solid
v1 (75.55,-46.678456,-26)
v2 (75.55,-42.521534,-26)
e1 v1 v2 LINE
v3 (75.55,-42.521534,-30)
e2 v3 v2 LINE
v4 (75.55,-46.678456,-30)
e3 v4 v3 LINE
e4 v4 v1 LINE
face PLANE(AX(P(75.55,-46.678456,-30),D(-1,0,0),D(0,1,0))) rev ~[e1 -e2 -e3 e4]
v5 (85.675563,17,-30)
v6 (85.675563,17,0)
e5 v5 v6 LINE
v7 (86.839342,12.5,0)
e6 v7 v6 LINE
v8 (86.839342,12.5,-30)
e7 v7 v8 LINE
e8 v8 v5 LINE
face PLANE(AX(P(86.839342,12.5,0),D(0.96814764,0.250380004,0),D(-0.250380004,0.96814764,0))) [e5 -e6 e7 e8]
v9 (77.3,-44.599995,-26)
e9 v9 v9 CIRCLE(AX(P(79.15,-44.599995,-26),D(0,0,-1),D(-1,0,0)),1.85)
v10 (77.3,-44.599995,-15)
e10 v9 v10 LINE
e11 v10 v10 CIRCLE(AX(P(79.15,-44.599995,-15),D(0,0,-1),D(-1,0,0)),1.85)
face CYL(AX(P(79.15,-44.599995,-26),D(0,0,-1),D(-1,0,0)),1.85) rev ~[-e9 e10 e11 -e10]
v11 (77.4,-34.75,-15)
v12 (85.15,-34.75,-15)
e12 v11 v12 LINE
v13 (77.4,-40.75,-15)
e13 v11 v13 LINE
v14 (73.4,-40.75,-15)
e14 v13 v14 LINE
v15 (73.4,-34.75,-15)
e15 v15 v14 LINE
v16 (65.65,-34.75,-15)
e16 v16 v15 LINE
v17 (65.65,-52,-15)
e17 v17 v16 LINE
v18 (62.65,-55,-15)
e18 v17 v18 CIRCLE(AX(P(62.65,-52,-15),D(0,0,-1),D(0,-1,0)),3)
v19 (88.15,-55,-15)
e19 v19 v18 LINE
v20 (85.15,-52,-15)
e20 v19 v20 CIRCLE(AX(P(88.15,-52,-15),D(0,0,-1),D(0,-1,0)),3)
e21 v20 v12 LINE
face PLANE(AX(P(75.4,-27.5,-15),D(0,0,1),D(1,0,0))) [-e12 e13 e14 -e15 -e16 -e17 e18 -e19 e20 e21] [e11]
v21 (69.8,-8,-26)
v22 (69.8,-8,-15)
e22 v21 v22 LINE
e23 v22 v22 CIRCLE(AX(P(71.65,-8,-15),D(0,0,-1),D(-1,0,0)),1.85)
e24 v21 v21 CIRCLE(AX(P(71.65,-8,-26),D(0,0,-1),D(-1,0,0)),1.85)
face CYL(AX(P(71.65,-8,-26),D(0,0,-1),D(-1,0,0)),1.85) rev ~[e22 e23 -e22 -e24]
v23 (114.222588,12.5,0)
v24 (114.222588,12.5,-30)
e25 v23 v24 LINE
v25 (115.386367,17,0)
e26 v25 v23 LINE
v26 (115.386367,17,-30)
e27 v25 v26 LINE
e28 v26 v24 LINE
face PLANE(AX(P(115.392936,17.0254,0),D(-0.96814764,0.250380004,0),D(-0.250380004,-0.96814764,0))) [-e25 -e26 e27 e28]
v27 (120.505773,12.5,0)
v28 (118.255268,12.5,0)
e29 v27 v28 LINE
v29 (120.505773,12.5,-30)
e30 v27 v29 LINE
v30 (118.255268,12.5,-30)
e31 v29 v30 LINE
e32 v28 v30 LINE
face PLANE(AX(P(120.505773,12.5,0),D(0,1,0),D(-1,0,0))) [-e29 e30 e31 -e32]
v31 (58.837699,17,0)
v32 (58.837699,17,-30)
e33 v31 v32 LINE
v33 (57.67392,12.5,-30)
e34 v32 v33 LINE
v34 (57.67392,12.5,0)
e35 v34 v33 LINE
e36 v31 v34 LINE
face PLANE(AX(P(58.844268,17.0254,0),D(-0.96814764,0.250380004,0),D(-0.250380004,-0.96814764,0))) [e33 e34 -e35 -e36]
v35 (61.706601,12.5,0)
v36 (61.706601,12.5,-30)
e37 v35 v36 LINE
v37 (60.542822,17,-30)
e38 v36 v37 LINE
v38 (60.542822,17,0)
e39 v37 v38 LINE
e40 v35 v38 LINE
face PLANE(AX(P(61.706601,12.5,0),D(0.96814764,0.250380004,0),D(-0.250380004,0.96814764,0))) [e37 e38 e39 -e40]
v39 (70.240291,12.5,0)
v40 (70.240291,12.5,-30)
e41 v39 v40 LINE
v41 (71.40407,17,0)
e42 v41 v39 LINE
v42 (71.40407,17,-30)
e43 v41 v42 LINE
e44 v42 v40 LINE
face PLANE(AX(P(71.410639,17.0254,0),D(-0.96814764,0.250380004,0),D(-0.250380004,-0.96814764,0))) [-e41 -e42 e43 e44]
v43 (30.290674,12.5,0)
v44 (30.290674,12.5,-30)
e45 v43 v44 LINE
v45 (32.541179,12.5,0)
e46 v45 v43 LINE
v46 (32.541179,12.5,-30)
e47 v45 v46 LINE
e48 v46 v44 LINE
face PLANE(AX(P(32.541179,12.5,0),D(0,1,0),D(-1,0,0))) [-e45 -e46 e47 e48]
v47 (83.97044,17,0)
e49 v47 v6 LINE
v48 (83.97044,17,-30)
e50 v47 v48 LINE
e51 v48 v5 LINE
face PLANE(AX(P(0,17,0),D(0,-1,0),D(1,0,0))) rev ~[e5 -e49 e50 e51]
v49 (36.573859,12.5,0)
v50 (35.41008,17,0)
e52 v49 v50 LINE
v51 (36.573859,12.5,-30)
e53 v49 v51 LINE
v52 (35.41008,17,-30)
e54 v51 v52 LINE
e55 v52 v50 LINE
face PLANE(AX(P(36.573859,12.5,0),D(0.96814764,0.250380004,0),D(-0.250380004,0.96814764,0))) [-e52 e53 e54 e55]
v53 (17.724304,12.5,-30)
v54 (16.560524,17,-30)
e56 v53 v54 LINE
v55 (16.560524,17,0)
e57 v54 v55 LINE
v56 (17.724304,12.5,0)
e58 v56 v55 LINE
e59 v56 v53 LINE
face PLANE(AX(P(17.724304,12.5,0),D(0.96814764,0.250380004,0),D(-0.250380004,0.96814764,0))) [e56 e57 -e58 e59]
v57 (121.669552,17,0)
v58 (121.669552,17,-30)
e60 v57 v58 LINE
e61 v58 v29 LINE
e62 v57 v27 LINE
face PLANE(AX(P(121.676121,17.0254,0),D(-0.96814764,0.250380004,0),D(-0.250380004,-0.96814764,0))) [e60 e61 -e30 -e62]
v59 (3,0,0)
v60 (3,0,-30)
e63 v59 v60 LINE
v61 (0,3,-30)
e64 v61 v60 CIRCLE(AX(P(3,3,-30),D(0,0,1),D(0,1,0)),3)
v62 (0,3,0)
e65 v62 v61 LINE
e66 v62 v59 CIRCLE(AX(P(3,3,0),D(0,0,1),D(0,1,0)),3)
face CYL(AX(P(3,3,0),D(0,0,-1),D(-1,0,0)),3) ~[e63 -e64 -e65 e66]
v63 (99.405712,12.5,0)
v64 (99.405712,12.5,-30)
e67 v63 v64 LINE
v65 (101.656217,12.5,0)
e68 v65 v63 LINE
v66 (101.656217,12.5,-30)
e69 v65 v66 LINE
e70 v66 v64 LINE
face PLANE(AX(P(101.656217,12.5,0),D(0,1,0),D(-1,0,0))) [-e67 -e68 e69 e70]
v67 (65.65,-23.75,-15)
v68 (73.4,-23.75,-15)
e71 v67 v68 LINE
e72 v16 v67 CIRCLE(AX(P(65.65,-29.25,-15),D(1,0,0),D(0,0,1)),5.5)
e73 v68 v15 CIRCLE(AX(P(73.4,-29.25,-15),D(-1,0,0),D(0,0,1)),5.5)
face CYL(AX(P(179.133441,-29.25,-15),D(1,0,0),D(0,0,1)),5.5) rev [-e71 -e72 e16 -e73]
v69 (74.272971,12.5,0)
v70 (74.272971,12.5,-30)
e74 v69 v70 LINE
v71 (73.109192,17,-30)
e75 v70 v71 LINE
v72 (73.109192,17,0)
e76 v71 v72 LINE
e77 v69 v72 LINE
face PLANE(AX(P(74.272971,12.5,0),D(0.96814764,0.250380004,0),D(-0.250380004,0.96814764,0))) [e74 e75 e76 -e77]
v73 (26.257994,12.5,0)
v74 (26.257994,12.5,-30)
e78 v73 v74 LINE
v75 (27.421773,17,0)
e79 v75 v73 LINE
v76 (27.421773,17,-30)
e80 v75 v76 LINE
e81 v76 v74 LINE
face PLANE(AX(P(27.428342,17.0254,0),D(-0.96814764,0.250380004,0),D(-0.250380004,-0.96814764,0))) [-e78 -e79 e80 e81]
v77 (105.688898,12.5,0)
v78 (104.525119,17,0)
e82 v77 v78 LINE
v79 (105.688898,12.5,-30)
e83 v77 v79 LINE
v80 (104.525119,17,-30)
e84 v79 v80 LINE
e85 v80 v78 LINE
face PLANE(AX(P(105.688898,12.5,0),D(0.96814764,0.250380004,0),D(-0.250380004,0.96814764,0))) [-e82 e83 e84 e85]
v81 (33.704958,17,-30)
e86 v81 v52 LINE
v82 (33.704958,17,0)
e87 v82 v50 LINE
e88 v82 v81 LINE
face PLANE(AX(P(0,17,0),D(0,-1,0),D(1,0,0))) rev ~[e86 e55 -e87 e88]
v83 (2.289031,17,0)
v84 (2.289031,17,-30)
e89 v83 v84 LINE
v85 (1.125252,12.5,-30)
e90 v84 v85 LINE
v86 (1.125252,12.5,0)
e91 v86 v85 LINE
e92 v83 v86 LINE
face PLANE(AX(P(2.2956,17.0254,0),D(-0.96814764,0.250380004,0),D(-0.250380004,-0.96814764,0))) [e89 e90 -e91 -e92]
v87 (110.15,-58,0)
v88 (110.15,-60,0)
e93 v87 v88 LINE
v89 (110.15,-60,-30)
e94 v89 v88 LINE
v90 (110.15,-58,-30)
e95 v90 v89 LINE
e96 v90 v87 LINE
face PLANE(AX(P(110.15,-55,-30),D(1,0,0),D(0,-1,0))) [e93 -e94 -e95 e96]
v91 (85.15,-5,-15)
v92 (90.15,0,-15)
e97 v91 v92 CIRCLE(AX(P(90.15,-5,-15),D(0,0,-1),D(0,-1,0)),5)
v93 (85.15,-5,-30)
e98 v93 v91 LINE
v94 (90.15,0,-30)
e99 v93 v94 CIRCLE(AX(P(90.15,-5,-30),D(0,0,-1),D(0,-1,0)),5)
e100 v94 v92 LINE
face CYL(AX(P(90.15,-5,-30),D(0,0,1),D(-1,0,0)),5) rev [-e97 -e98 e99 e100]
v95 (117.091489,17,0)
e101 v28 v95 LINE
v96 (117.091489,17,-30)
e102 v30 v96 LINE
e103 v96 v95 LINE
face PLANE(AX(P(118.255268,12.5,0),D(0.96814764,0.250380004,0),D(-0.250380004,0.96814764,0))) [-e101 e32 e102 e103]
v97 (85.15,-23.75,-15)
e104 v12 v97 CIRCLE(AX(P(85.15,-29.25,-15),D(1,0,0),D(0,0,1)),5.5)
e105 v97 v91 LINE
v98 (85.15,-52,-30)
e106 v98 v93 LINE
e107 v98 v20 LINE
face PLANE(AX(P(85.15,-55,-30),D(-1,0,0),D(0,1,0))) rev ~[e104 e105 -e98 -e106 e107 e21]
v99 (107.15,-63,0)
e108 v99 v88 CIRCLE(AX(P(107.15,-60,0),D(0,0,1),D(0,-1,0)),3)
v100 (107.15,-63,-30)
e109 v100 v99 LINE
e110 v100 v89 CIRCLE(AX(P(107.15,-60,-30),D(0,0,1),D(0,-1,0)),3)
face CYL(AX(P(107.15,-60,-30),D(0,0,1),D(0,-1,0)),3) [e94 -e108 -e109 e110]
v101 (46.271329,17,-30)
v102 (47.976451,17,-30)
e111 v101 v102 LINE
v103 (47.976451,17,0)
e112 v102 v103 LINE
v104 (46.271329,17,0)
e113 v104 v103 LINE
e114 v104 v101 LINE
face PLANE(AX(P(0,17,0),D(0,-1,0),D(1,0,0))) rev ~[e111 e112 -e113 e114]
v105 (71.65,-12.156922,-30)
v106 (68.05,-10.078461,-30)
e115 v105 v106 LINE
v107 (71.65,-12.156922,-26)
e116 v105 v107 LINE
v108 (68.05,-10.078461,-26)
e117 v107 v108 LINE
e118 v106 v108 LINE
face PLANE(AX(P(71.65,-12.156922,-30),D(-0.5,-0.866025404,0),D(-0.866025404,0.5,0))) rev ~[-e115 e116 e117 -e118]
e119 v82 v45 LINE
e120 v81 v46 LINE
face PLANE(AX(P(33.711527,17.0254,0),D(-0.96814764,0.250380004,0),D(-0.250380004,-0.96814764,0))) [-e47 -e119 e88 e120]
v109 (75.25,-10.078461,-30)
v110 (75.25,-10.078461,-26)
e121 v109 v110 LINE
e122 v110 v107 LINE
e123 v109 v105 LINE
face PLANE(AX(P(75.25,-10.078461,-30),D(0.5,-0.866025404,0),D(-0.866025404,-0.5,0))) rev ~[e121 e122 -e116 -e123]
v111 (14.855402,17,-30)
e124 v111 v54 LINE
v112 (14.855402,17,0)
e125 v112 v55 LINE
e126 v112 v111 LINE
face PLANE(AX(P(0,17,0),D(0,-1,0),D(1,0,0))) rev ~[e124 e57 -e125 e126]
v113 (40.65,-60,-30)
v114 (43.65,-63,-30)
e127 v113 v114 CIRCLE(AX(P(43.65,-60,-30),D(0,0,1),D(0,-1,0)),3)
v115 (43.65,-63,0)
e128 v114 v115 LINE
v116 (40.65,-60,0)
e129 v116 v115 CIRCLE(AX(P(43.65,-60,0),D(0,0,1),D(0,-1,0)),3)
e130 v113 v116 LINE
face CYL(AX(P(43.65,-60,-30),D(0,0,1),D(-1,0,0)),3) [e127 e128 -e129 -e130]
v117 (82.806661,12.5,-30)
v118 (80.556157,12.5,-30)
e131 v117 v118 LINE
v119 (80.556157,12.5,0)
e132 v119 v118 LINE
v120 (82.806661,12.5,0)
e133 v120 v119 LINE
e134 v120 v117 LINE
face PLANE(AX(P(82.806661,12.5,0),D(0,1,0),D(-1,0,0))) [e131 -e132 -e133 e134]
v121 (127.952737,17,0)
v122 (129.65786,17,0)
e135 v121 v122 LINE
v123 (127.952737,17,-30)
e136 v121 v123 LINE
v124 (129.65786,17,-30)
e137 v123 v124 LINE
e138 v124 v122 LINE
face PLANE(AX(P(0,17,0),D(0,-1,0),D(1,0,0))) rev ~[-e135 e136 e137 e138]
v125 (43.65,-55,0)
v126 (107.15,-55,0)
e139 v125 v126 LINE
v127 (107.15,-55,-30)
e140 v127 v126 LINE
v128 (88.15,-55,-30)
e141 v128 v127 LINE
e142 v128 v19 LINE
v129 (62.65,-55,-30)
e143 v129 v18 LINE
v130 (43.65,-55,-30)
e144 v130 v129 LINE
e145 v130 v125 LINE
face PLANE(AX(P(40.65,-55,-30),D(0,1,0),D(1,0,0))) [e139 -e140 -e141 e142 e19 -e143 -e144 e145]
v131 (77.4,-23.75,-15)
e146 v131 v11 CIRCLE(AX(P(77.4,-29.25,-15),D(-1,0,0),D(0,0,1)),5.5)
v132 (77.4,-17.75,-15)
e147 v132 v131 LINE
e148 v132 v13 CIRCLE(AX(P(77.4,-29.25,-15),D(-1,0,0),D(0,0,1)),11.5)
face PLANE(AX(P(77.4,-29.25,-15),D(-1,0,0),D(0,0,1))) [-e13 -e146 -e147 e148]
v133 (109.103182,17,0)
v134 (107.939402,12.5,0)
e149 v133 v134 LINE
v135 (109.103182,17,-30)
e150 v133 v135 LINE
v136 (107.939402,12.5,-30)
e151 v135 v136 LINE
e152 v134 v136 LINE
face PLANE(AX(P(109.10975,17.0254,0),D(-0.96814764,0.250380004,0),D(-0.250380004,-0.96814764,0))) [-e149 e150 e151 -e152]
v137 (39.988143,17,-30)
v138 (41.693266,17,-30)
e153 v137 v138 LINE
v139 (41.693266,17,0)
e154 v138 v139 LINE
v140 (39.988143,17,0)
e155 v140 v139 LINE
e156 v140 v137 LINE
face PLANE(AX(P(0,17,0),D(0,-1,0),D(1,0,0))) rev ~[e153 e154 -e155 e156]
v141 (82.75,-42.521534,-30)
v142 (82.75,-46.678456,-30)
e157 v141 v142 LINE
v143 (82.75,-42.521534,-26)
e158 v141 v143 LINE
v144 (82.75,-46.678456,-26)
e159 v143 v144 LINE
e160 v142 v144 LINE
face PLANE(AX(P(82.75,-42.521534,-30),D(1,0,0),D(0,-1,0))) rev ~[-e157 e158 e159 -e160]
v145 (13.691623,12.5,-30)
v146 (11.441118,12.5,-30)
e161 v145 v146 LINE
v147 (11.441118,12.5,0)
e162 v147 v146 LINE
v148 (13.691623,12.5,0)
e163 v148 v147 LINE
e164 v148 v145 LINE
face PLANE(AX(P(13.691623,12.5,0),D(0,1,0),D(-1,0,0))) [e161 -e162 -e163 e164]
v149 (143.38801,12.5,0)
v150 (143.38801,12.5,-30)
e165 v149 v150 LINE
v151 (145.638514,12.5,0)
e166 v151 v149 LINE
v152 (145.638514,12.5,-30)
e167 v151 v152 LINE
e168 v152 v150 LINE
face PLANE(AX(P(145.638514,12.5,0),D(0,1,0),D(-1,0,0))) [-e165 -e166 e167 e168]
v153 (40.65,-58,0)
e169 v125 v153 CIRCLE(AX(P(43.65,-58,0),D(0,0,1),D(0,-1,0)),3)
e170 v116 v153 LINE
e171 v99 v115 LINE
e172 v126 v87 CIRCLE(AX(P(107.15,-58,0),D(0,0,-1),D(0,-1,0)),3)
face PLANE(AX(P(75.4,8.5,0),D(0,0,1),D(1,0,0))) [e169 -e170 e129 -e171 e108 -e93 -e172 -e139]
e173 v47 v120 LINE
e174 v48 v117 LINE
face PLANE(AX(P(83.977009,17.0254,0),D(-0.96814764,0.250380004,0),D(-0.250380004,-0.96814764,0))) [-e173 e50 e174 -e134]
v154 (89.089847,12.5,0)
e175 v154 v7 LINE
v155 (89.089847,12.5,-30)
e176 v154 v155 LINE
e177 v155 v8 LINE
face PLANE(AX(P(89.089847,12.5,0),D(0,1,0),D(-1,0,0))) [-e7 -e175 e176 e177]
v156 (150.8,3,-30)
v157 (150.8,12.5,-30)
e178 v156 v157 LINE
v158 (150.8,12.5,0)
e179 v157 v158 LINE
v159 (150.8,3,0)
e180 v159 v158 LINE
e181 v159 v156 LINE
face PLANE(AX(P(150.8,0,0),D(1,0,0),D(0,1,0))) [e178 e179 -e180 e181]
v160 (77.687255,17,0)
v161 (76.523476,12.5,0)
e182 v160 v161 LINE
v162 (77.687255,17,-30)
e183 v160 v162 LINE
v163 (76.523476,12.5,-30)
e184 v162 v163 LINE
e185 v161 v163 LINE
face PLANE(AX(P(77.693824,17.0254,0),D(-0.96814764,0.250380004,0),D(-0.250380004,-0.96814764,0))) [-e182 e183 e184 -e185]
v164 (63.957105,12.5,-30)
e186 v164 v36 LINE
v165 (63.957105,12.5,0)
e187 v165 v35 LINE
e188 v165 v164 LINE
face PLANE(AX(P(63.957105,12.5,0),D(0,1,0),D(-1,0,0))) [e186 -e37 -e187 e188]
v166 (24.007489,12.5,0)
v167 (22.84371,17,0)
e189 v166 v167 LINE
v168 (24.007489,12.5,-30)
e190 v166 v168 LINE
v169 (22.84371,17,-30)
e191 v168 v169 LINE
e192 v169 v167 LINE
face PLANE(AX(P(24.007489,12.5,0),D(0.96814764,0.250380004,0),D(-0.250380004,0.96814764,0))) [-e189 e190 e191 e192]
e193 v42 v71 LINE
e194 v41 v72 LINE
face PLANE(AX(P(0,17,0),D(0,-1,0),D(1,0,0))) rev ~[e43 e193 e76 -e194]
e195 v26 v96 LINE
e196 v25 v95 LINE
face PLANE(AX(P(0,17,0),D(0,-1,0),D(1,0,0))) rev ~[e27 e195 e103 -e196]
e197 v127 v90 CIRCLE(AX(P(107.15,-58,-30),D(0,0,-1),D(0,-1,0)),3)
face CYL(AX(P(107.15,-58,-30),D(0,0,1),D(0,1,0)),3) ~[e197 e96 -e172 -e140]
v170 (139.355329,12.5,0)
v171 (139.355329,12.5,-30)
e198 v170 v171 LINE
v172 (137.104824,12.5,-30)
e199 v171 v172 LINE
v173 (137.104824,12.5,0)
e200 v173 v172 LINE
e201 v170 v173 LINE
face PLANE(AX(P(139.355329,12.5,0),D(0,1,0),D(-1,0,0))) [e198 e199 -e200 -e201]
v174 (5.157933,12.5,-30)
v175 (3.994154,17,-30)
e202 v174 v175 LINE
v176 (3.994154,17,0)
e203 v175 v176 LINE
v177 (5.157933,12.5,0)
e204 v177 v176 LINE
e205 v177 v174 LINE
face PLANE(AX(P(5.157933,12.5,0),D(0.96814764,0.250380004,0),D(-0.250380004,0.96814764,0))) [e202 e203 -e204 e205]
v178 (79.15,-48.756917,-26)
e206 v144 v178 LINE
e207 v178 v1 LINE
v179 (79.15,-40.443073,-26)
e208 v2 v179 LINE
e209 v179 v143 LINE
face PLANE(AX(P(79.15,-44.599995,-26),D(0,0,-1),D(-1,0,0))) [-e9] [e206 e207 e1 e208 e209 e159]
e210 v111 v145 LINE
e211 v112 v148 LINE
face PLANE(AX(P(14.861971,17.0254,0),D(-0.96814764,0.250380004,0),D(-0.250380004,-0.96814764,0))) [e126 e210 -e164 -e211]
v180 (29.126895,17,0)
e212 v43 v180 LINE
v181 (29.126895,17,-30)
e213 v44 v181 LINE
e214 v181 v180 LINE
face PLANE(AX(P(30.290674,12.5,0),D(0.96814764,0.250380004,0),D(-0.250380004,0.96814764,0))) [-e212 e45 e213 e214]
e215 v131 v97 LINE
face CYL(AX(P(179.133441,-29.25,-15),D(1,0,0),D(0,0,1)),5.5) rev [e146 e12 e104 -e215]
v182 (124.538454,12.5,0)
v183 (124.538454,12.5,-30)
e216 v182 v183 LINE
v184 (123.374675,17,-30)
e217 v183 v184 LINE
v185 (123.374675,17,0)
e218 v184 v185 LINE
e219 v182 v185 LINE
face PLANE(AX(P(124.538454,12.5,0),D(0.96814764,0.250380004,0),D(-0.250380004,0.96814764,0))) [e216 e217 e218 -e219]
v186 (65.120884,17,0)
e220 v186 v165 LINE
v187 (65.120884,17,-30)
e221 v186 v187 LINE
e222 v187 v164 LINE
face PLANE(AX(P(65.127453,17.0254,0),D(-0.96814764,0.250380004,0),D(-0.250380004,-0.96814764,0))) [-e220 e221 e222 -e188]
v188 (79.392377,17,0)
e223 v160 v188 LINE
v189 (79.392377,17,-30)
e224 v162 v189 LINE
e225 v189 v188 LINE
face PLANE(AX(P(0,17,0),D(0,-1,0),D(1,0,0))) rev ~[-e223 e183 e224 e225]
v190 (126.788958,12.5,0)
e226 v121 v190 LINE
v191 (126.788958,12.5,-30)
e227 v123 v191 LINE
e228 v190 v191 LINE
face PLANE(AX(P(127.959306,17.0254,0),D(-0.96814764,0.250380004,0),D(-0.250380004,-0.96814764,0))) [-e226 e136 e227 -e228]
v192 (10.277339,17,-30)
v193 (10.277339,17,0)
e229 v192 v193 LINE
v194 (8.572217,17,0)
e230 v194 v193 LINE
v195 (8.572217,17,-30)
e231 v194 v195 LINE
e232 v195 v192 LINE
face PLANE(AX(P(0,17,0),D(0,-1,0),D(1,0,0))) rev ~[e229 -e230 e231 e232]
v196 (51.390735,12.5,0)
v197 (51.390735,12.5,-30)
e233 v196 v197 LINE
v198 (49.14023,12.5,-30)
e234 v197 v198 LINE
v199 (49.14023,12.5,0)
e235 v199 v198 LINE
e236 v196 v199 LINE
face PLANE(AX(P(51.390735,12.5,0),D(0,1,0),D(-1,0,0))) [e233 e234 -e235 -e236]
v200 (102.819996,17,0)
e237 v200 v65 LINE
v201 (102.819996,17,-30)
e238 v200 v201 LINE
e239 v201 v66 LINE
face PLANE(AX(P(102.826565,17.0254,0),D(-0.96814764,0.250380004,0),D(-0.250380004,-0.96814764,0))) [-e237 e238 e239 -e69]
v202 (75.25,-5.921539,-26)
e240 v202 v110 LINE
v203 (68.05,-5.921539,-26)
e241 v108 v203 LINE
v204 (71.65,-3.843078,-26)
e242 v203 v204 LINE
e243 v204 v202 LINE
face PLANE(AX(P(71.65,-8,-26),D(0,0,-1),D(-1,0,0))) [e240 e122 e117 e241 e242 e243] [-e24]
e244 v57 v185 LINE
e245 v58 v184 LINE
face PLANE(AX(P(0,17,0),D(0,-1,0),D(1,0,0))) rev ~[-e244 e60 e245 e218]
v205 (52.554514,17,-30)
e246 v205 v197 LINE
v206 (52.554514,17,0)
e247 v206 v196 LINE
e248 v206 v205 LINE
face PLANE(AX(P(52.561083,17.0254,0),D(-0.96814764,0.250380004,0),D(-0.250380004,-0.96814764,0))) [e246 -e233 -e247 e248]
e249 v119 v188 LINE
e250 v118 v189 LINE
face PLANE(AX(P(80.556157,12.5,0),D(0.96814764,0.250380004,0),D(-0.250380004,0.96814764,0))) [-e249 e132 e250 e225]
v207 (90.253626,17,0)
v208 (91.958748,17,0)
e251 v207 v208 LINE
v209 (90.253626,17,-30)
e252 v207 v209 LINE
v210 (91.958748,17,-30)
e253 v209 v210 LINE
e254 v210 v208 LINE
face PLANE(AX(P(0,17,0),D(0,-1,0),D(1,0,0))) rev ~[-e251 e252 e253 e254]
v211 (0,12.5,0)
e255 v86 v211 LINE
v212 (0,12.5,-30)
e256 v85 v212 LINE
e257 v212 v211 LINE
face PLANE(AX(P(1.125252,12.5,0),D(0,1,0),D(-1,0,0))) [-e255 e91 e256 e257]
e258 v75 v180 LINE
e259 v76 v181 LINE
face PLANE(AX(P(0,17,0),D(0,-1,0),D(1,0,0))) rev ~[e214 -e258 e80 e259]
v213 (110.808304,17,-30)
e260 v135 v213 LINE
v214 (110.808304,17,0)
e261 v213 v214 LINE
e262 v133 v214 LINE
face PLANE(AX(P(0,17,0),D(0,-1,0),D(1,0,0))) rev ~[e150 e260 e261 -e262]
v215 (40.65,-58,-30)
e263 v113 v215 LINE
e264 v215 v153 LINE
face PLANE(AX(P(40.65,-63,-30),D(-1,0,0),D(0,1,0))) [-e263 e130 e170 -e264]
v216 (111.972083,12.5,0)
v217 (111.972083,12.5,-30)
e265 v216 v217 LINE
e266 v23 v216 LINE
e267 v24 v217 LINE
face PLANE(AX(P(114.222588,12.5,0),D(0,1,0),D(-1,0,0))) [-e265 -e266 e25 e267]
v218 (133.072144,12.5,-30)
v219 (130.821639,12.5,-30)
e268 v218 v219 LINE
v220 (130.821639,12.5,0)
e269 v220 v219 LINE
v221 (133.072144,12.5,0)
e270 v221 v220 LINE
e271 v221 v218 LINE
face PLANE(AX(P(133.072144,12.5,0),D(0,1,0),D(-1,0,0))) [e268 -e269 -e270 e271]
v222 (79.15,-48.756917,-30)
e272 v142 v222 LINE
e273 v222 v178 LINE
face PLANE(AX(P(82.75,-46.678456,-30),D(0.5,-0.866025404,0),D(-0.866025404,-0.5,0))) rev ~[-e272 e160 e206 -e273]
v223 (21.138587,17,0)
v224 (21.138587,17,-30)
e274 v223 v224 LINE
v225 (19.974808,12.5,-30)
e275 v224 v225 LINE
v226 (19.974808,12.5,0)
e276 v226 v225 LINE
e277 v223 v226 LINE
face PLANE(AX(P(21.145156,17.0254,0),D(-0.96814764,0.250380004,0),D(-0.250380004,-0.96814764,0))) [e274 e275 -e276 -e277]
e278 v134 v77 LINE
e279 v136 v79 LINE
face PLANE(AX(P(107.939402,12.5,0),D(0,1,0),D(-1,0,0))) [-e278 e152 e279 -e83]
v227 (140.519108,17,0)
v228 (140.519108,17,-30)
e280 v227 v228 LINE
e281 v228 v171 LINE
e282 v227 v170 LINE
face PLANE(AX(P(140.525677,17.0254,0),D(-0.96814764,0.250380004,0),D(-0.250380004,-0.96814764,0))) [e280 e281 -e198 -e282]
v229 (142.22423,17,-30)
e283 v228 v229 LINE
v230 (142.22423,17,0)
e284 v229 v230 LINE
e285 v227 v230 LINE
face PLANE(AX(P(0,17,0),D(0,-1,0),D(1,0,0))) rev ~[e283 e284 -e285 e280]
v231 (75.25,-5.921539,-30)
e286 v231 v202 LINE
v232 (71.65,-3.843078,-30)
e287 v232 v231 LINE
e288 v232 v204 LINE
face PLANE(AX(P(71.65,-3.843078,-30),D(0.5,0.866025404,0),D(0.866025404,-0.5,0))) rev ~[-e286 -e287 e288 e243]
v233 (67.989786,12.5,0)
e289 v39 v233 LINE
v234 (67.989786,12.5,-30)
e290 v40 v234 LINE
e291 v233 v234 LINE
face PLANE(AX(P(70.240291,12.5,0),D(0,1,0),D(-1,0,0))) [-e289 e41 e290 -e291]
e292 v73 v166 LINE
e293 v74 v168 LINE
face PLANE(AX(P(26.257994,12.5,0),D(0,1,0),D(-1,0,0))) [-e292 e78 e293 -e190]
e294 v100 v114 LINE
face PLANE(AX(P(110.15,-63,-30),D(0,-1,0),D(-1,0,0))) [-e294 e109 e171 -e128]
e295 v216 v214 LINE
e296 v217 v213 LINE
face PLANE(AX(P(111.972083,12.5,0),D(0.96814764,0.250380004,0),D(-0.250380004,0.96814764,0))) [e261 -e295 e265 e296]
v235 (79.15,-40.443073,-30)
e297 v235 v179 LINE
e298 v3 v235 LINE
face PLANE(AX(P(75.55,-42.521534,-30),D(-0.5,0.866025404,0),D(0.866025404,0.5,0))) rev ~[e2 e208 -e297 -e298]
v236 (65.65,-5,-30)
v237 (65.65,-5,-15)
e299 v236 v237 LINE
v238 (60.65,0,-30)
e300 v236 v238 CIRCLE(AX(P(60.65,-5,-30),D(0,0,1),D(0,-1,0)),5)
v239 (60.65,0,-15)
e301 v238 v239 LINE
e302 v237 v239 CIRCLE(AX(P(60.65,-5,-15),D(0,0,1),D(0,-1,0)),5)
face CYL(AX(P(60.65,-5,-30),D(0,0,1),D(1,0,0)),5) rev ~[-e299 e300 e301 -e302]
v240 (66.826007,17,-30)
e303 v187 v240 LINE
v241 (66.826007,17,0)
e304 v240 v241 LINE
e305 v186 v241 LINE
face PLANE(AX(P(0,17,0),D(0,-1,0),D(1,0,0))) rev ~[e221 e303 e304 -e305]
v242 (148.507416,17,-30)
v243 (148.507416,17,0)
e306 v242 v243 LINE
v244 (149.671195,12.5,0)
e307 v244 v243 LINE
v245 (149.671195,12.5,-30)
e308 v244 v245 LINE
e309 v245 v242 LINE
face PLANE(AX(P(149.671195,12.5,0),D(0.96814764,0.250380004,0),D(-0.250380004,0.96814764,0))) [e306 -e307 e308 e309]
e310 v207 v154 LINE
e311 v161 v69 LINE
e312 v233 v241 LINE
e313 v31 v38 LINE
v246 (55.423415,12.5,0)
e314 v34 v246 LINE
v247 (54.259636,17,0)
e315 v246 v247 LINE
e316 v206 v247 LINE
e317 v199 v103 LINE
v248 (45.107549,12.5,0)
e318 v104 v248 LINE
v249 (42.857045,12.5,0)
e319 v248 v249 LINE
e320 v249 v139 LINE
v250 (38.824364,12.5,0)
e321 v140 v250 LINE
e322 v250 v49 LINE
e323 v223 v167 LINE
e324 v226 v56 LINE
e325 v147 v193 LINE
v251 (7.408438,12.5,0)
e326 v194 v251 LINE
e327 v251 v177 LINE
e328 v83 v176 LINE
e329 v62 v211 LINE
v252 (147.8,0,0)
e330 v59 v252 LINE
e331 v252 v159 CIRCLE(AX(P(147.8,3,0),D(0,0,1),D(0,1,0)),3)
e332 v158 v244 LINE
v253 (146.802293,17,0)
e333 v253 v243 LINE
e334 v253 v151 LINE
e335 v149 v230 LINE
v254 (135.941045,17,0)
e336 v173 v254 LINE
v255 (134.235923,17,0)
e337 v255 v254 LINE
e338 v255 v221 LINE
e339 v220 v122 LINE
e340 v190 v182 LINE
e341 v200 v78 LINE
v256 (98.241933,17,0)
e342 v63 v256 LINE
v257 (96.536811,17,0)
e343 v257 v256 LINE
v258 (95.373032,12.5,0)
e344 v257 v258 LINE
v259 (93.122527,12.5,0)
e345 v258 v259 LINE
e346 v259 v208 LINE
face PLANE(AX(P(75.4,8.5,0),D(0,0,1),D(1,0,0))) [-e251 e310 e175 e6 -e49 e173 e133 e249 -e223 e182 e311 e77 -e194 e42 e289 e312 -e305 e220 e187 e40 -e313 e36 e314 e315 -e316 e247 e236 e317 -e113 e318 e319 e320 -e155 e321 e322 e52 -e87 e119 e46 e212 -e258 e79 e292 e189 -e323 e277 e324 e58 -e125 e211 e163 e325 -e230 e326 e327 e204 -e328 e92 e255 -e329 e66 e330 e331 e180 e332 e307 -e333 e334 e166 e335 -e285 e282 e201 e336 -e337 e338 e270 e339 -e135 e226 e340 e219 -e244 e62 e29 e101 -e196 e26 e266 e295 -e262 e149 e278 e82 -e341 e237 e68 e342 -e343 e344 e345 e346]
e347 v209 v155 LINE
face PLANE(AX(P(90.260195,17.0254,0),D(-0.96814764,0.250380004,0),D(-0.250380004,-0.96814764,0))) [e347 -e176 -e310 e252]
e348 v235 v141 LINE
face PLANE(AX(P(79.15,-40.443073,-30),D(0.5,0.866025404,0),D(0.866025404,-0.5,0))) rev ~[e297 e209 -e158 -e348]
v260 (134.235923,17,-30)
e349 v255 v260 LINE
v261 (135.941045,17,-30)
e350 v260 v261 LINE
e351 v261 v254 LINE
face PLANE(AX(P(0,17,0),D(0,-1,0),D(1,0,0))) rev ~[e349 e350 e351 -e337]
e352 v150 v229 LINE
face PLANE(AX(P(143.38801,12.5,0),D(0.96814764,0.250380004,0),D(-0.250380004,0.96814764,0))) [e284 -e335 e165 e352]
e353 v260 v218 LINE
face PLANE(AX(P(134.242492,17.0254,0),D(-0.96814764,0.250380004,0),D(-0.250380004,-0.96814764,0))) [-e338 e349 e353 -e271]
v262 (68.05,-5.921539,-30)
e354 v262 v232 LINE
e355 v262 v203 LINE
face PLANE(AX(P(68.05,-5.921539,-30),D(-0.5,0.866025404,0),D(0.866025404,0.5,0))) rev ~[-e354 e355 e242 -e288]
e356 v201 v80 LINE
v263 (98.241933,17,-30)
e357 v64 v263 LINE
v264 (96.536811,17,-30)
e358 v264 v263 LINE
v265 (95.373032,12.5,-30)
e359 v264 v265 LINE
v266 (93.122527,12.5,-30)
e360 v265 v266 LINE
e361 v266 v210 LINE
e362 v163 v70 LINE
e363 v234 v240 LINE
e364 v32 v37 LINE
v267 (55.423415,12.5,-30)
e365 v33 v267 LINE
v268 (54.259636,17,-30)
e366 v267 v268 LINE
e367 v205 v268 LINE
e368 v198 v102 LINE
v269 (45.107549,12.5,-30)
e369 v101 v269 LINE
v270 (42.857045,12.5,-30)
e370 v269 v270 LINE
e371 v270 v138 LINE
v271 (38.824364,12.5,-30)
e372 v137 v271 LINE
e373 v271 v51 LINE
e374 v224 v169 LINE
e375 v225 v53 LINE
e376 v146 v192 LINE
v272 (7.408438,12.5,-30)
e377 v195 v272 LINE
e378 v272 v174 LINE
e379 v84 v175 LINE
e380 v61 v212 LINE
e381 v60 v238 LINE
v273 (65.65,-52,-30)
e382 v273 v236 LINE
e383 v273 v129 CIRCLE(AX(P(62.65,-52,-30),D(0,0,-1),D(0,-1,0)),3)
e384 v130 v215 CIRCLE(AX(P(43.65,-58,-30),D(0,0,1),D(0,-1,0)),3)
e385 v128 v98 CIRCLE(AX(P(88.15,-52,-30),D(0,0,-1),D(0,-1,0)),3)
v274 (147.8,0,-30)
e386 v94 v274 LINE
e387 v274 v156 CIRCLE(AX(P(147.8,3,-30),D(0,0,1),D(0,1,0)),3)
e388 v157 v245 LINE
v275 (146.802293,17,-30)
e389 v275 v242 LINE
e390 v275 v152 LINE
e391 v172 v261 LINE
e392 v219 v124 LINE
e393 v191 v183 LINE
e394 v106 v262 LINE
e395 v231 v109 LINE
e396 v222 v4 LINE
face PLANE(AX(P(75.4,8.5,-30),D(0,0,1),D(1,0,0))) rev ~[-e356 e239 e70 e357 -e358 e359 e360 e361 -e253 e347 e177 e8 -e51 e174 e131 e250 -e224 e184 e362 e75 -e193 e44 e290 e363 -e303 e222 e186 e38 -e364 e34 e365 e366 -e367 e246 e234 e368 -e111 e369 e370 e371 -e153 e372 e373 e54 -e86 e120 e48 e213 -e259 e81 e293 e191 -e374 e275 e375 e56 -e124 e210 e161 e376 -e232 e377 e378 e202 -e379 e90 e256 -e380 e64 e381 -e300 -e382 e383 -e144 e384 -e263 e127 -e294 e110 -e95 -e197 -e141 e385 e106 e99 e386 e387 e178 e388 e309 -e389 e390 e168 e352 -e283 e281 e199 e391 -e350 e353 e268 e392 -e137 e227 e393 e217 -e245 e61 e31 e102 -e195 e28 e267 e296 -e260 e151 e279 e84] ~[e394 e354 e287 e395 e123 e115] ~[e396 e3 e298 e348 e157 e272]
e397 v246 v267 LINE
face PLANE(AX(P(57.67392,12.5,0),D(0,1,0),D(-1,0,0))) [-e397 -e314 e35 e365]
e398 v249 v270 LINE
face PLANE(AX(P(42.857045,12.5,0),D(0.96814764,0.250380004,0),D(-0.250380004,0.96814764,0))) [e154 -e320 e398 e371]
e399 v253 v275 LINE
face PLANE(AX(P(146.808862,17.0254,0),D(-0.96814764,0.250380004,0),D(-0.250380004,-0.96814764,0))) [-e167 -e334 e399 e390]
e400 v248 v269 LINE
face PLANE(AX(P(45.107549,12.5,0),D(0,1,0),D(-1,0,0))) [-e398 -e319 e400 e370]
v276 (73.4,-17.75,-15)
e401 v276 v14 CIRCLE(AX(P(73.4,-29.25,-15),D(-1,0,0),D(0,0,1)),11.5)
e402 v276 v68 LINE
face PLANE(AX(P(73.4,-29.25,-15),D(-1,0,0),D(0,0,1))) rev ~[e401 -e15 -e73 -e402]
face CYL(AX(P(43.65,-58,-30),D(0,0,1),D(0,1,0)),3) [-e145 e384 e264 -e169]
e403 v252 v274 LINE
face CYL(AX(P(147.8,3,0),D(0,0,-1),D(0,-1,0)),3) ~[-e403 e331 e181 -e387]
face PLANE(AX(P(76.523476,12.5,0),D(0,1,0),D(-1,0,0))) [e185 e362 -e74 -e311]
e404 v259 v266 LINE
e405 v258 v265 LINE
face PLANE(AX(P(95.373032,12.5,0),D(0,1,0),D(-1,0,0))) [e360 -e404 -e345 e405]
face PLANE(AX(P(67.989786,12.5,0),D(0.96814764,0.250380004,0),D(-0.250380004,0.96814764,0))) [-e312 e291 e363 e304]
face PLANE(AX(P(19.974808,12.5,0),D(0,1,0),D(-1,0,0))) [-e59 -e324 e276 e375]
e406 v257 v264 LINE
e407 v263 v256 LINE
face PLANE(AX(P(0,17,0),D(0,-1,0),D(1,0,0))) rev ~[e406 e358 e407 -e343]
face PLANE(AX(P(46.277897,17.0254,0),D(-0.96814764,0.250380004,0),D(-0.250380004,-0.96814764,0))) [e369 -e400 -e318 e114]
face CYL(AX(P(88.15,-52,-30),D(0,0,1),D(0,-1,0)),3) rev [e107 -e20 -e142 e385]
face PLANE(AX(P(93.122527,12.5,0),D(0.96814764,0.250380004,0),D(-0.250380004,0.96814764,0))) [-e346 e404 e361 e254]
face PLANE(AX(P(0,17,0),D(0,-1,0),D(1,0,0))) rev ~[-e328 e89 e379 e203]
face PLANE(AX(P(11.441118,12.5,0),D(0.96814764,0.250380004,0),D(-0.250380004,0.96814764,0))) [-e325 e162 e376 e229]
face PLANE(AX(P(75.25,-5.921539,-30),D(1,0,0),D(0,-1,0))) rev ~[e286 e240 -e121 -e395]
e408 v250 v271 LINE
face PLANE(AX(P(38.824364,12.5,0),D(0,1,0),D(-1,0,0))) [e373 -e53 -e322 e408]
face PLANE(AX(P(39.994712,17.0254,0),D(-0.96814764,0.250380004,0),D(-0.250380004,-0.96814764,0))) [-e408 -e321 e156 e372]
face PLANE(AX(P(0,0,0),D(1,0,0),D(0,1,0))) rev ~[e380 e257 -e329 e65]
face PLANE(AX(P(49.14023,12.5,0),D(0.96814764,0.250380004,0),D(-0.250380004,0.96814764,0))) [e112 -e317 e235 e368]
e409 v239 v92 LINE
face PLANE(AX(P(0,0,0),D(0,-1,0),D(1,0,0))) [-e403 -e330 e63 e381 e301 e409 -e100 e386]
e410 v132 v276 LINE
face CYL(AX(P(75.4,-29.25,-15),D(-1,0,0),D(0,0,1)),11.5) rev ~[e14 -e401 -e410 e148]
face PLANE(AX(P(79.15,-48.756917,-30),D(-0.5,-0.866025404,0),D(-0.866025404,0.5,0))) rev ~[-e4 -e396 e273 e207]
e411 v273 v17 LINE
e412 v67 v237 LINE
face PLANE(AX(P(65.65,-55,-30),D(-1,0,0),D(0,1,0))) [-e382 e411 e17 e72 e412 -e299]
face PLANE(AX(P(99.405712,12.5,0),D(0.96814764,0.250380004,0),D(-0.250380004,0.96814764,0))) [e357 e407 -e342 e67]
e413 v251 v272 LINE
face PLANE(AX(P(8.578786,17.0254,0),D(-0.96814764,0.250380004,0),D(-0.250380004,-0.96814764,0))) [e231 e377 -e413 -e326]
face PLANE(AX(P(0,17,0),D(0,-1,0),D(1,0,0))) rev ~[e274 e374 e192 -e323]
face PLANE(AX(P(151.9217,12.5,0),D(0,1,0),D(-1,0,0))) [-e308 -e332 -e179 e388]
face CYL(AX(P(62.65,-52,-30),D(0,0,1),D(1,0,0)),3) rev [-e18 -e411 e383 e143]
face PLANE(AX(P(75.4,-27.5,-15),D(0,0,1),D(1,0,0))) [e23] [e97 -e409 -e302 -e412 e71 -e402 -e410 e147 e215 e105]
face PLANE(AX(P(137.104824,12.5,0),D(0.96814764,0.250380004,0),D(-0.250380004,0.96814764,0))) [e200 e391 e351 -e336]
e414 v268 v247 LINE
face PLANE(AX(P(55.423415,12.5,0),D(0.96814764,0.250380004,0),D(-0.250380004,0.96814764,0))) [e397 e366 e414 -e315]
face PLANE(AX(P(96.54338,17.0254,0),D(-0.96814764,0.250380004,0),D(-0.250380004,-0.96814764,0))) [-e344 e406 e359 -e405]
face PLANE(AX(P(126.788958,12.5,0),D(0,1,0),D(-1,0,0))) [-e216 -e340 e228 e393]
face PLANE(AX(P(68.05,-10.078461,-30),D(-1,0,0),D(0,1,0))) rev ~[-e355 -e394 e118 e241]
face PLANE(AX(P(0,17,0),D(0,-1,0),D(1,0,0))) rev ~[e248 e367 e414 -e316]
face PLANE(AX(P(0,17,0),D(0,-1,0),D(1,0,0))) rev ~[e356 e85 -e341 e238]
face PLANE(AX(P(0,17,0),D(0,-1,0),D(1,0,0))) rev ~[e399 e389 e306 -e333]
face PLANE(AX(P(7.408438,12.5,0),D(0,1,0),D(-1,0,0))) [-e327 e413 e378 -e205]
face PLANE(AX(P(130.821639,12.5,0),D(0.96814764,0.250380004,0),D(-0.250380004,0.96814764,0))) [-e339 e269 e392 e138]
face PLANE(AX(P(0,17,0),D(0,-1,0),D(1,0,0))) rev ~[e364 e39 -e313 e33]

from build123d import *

# Parameters (mm, degrees)
BLANKSKE_W                            = 150.8
BLANKSKE_H                            = 17
BLANK_CREMALHEIRA_DEPTH               = 30
CORTE_DENTE_DIMENSIONADO_DEPTH        = 155.692081245
CORTE_DESTES_COUNT                    = 25
CORTE_DESTES_PITCH                    = 6.2831853
SKETCH1_W                             = 9.75
SKETCH1_H                             = 55
CORPO_DE_APOIO_DEPTH                  = 30
SKETCH2_W                             = 19.5
SKETCH2_H                             = 55
REBAIXO_DEPTH                         = 15
ENCAIXE_FLANGE_11_PASSANTE_DEPTH      = 103.733441488
ENCAIXE_FLANGE_11_PASSANTE_DEPTH_BACK = 103.733441488
SKETCH3_R                             = 5.5
SKETCH3_3_R                           = 11.5
SKETCH3_3_R_2                         = 5.5
ENCAIXE_FLANGE_23X4_DEPTH             = 2
REBAIXOS_DAS_PORCAS_DEPTH             = 4
SKETCH5_R                             = 1.85
FUROS_DE_FIXA_O_DEPTH                 = 166.486071921
RAIOS_3MM_R                           = 3
RAIOS_5MM_R                           = 5


with BuildPart() as part:
    # BlankSke → Blank Cremalheira (new body)
    with BuildSketch(Plane.XY):
        with Locations((75.4, 8.5)):
            Rectangle(BLANKSKE_W, BLANKSKE_H)
    extrude(amount=-BLANK_CREMALHEIRA_DEPTH)

    # TooCutSkeSim → Corte - Dente Dimensionado (cut, through all)
    with BuildSketch(Plane.XY):
        Polygon((1.125252364, 12.5), (-1.125252364, 12.5), (-2.29560038, 17.0254), (2.29560038, 17.0254), align=None)
    corte_dente_dimensionado = extrude(amount=-CORTE_DENTE_DIMENSIONADO_DEPTH, mode=Mode.SUBTRACT)

    # Corte - Destes: Corte - Dente Dimensionado ×25
    with Locations(*[(i * CORTE_DESTES_PITCH, 0, 0) for i in range(1, CORTE_DESTES_COUNT)]):
        add(corte_dente_dimensionado, mode=Mode.SUBTRACT)

    # Sketch1 → Corpo de Apoio (add)
    with BuildSketch(Plane(origin=(0, 0, -30), x_dir=(-1, 0, 0), z_dir=(0, 0, -1))):
        with Locations((-70.525, -27.5)):
            Rectangle(SKETCH1_W, SKETCH1_H)
        with Locations((-80.275, -27.5)):
            Rectangle(SKETCH1_W, SKETCH1_H)
        Polygon((-65.65, -55), (-75.4, -55), (-75.4, -63), (-40.65, -63), (-40.65, -55), align=None)
        Polygon((-75.4, -63), (-75.4, -55), (-85.15, -55), (-110.15, -55), (-110.15, -63), align=None)
    extrude(amount=-CORPO_DE_APOIO_DEPTH)

    # Sketch2 → Rebaixo (cut)
    with BuildSketch(Plane.XY):
        with Locations((75.4, -27.5)):
            Rectangle(SKETCH2_W, SKETCH2_H)
    extrude(amount=-REBAIXO_DEPTH, mode=Mode.SUBTRACT)

    # Sketch3 → Encaixe Flange - Ø11 Passante (cut, two sides: drawn at the far end of the back side and taken through both)
    with BuildSketch(Plane.ZY.offset(-75.4).offset(-ENCAIXE_FLANGE_11_PASSANTE_DEPTH_BACK)):
        with Locations((-15, -29.25)):
            Circle(SKETCH3_R)
    extrude(amount=ENCAIXE_FLANGE_11_PASSANTE_DEPTH + ENCAIXE_FLANGE_11_PASSANTE_DEPTH_BACK, mode=Mode.SUBTRACT)

    # Sketch3<3> → Encaixe Flange - Ø23x4 (cut, symmetric)
    with BuildSketch(Plane.ZY.offset(-75.4)):
        with Locations((-15, -29.25)):
            Circle(SKETCH3_3_R)
        with Locations((-15, -29.25)):
            Circle(SKETCH3_3_R_2, mode=Mode.SUBTRACT)
    extrude(amount=ENCAIXE_FLANGE_23X4_DEPTH, both=True, mode=Mode.SUBTRACT)

    # Sketch4 → Rebaixos das Porcas (cut)
    with BuildSketch(Plane(origin=(0, 0, -30), x_dir=(-1, 0, 0), z_dir=(0, 0, -1))):
        Polygon((-71.65, -3.843078062), (-75.25, -5.921539031), (-75.25, -10.078460969), (-71.65, -12.156921938), (-68.05, -10.078460969), (-68.05, -5.921539031), align=None)
        Polygon((-79.15, -40.443072948), (-82.75, -42.521533917), (-82.75, -46.678455855), (-79.15, -48.756916824), (-75.55, -46.678455855), (-75.55, -42.521533917), align=None)
    extrude(amount=-REBAIXOS_DAS_PORCAS_DEPTH, mode=Mode.SUBTRACT)

    # Sketch5 → Furos de Fixação (cut, through all)
    with BuildSketch(Plane(origin=(0, 0, -26), x_dir=(-1, 0, 0), z_dir=(0, 0, -1))):
        with Locations((-79.15, -44.599994886)):
            Circle(SKETCH5_R)
        with Locations((-71.65, -8)):
            Circle(SKETCH5_R)
    extrude(amount=-FUROS_DE_FIXA_O_DEPTH, mode=Mode.SUBTRACT)

    # Raios 3mm
    raios_3mm_edges = [part.edges().sort_by_distance(p)[0] for p in [
        (40.65, -55, -15),
        (40.65, -63, -15),
        (110.15, -63, -15),
        (110.15, -55, -15),
        (85.15, -55, -22.5),
        (65.65, -55, -22.5),
        (150.8, 0, -15),
        (0, 0, -15),
    ]]
    fillet(raios_3mm_edges, radius=RAIOS_3MM_R)

    # Raios 5mm
    raios_5mm_edges = [part.edges().sort_by_distance(p)[0] for p in [
        (85.15, 0, -22.5),
        (65.65, 0, -22.5),
    ]]
    fillet(raios_5mm_edges, radius=RAIOS_5MM_R)


solid = part.part
